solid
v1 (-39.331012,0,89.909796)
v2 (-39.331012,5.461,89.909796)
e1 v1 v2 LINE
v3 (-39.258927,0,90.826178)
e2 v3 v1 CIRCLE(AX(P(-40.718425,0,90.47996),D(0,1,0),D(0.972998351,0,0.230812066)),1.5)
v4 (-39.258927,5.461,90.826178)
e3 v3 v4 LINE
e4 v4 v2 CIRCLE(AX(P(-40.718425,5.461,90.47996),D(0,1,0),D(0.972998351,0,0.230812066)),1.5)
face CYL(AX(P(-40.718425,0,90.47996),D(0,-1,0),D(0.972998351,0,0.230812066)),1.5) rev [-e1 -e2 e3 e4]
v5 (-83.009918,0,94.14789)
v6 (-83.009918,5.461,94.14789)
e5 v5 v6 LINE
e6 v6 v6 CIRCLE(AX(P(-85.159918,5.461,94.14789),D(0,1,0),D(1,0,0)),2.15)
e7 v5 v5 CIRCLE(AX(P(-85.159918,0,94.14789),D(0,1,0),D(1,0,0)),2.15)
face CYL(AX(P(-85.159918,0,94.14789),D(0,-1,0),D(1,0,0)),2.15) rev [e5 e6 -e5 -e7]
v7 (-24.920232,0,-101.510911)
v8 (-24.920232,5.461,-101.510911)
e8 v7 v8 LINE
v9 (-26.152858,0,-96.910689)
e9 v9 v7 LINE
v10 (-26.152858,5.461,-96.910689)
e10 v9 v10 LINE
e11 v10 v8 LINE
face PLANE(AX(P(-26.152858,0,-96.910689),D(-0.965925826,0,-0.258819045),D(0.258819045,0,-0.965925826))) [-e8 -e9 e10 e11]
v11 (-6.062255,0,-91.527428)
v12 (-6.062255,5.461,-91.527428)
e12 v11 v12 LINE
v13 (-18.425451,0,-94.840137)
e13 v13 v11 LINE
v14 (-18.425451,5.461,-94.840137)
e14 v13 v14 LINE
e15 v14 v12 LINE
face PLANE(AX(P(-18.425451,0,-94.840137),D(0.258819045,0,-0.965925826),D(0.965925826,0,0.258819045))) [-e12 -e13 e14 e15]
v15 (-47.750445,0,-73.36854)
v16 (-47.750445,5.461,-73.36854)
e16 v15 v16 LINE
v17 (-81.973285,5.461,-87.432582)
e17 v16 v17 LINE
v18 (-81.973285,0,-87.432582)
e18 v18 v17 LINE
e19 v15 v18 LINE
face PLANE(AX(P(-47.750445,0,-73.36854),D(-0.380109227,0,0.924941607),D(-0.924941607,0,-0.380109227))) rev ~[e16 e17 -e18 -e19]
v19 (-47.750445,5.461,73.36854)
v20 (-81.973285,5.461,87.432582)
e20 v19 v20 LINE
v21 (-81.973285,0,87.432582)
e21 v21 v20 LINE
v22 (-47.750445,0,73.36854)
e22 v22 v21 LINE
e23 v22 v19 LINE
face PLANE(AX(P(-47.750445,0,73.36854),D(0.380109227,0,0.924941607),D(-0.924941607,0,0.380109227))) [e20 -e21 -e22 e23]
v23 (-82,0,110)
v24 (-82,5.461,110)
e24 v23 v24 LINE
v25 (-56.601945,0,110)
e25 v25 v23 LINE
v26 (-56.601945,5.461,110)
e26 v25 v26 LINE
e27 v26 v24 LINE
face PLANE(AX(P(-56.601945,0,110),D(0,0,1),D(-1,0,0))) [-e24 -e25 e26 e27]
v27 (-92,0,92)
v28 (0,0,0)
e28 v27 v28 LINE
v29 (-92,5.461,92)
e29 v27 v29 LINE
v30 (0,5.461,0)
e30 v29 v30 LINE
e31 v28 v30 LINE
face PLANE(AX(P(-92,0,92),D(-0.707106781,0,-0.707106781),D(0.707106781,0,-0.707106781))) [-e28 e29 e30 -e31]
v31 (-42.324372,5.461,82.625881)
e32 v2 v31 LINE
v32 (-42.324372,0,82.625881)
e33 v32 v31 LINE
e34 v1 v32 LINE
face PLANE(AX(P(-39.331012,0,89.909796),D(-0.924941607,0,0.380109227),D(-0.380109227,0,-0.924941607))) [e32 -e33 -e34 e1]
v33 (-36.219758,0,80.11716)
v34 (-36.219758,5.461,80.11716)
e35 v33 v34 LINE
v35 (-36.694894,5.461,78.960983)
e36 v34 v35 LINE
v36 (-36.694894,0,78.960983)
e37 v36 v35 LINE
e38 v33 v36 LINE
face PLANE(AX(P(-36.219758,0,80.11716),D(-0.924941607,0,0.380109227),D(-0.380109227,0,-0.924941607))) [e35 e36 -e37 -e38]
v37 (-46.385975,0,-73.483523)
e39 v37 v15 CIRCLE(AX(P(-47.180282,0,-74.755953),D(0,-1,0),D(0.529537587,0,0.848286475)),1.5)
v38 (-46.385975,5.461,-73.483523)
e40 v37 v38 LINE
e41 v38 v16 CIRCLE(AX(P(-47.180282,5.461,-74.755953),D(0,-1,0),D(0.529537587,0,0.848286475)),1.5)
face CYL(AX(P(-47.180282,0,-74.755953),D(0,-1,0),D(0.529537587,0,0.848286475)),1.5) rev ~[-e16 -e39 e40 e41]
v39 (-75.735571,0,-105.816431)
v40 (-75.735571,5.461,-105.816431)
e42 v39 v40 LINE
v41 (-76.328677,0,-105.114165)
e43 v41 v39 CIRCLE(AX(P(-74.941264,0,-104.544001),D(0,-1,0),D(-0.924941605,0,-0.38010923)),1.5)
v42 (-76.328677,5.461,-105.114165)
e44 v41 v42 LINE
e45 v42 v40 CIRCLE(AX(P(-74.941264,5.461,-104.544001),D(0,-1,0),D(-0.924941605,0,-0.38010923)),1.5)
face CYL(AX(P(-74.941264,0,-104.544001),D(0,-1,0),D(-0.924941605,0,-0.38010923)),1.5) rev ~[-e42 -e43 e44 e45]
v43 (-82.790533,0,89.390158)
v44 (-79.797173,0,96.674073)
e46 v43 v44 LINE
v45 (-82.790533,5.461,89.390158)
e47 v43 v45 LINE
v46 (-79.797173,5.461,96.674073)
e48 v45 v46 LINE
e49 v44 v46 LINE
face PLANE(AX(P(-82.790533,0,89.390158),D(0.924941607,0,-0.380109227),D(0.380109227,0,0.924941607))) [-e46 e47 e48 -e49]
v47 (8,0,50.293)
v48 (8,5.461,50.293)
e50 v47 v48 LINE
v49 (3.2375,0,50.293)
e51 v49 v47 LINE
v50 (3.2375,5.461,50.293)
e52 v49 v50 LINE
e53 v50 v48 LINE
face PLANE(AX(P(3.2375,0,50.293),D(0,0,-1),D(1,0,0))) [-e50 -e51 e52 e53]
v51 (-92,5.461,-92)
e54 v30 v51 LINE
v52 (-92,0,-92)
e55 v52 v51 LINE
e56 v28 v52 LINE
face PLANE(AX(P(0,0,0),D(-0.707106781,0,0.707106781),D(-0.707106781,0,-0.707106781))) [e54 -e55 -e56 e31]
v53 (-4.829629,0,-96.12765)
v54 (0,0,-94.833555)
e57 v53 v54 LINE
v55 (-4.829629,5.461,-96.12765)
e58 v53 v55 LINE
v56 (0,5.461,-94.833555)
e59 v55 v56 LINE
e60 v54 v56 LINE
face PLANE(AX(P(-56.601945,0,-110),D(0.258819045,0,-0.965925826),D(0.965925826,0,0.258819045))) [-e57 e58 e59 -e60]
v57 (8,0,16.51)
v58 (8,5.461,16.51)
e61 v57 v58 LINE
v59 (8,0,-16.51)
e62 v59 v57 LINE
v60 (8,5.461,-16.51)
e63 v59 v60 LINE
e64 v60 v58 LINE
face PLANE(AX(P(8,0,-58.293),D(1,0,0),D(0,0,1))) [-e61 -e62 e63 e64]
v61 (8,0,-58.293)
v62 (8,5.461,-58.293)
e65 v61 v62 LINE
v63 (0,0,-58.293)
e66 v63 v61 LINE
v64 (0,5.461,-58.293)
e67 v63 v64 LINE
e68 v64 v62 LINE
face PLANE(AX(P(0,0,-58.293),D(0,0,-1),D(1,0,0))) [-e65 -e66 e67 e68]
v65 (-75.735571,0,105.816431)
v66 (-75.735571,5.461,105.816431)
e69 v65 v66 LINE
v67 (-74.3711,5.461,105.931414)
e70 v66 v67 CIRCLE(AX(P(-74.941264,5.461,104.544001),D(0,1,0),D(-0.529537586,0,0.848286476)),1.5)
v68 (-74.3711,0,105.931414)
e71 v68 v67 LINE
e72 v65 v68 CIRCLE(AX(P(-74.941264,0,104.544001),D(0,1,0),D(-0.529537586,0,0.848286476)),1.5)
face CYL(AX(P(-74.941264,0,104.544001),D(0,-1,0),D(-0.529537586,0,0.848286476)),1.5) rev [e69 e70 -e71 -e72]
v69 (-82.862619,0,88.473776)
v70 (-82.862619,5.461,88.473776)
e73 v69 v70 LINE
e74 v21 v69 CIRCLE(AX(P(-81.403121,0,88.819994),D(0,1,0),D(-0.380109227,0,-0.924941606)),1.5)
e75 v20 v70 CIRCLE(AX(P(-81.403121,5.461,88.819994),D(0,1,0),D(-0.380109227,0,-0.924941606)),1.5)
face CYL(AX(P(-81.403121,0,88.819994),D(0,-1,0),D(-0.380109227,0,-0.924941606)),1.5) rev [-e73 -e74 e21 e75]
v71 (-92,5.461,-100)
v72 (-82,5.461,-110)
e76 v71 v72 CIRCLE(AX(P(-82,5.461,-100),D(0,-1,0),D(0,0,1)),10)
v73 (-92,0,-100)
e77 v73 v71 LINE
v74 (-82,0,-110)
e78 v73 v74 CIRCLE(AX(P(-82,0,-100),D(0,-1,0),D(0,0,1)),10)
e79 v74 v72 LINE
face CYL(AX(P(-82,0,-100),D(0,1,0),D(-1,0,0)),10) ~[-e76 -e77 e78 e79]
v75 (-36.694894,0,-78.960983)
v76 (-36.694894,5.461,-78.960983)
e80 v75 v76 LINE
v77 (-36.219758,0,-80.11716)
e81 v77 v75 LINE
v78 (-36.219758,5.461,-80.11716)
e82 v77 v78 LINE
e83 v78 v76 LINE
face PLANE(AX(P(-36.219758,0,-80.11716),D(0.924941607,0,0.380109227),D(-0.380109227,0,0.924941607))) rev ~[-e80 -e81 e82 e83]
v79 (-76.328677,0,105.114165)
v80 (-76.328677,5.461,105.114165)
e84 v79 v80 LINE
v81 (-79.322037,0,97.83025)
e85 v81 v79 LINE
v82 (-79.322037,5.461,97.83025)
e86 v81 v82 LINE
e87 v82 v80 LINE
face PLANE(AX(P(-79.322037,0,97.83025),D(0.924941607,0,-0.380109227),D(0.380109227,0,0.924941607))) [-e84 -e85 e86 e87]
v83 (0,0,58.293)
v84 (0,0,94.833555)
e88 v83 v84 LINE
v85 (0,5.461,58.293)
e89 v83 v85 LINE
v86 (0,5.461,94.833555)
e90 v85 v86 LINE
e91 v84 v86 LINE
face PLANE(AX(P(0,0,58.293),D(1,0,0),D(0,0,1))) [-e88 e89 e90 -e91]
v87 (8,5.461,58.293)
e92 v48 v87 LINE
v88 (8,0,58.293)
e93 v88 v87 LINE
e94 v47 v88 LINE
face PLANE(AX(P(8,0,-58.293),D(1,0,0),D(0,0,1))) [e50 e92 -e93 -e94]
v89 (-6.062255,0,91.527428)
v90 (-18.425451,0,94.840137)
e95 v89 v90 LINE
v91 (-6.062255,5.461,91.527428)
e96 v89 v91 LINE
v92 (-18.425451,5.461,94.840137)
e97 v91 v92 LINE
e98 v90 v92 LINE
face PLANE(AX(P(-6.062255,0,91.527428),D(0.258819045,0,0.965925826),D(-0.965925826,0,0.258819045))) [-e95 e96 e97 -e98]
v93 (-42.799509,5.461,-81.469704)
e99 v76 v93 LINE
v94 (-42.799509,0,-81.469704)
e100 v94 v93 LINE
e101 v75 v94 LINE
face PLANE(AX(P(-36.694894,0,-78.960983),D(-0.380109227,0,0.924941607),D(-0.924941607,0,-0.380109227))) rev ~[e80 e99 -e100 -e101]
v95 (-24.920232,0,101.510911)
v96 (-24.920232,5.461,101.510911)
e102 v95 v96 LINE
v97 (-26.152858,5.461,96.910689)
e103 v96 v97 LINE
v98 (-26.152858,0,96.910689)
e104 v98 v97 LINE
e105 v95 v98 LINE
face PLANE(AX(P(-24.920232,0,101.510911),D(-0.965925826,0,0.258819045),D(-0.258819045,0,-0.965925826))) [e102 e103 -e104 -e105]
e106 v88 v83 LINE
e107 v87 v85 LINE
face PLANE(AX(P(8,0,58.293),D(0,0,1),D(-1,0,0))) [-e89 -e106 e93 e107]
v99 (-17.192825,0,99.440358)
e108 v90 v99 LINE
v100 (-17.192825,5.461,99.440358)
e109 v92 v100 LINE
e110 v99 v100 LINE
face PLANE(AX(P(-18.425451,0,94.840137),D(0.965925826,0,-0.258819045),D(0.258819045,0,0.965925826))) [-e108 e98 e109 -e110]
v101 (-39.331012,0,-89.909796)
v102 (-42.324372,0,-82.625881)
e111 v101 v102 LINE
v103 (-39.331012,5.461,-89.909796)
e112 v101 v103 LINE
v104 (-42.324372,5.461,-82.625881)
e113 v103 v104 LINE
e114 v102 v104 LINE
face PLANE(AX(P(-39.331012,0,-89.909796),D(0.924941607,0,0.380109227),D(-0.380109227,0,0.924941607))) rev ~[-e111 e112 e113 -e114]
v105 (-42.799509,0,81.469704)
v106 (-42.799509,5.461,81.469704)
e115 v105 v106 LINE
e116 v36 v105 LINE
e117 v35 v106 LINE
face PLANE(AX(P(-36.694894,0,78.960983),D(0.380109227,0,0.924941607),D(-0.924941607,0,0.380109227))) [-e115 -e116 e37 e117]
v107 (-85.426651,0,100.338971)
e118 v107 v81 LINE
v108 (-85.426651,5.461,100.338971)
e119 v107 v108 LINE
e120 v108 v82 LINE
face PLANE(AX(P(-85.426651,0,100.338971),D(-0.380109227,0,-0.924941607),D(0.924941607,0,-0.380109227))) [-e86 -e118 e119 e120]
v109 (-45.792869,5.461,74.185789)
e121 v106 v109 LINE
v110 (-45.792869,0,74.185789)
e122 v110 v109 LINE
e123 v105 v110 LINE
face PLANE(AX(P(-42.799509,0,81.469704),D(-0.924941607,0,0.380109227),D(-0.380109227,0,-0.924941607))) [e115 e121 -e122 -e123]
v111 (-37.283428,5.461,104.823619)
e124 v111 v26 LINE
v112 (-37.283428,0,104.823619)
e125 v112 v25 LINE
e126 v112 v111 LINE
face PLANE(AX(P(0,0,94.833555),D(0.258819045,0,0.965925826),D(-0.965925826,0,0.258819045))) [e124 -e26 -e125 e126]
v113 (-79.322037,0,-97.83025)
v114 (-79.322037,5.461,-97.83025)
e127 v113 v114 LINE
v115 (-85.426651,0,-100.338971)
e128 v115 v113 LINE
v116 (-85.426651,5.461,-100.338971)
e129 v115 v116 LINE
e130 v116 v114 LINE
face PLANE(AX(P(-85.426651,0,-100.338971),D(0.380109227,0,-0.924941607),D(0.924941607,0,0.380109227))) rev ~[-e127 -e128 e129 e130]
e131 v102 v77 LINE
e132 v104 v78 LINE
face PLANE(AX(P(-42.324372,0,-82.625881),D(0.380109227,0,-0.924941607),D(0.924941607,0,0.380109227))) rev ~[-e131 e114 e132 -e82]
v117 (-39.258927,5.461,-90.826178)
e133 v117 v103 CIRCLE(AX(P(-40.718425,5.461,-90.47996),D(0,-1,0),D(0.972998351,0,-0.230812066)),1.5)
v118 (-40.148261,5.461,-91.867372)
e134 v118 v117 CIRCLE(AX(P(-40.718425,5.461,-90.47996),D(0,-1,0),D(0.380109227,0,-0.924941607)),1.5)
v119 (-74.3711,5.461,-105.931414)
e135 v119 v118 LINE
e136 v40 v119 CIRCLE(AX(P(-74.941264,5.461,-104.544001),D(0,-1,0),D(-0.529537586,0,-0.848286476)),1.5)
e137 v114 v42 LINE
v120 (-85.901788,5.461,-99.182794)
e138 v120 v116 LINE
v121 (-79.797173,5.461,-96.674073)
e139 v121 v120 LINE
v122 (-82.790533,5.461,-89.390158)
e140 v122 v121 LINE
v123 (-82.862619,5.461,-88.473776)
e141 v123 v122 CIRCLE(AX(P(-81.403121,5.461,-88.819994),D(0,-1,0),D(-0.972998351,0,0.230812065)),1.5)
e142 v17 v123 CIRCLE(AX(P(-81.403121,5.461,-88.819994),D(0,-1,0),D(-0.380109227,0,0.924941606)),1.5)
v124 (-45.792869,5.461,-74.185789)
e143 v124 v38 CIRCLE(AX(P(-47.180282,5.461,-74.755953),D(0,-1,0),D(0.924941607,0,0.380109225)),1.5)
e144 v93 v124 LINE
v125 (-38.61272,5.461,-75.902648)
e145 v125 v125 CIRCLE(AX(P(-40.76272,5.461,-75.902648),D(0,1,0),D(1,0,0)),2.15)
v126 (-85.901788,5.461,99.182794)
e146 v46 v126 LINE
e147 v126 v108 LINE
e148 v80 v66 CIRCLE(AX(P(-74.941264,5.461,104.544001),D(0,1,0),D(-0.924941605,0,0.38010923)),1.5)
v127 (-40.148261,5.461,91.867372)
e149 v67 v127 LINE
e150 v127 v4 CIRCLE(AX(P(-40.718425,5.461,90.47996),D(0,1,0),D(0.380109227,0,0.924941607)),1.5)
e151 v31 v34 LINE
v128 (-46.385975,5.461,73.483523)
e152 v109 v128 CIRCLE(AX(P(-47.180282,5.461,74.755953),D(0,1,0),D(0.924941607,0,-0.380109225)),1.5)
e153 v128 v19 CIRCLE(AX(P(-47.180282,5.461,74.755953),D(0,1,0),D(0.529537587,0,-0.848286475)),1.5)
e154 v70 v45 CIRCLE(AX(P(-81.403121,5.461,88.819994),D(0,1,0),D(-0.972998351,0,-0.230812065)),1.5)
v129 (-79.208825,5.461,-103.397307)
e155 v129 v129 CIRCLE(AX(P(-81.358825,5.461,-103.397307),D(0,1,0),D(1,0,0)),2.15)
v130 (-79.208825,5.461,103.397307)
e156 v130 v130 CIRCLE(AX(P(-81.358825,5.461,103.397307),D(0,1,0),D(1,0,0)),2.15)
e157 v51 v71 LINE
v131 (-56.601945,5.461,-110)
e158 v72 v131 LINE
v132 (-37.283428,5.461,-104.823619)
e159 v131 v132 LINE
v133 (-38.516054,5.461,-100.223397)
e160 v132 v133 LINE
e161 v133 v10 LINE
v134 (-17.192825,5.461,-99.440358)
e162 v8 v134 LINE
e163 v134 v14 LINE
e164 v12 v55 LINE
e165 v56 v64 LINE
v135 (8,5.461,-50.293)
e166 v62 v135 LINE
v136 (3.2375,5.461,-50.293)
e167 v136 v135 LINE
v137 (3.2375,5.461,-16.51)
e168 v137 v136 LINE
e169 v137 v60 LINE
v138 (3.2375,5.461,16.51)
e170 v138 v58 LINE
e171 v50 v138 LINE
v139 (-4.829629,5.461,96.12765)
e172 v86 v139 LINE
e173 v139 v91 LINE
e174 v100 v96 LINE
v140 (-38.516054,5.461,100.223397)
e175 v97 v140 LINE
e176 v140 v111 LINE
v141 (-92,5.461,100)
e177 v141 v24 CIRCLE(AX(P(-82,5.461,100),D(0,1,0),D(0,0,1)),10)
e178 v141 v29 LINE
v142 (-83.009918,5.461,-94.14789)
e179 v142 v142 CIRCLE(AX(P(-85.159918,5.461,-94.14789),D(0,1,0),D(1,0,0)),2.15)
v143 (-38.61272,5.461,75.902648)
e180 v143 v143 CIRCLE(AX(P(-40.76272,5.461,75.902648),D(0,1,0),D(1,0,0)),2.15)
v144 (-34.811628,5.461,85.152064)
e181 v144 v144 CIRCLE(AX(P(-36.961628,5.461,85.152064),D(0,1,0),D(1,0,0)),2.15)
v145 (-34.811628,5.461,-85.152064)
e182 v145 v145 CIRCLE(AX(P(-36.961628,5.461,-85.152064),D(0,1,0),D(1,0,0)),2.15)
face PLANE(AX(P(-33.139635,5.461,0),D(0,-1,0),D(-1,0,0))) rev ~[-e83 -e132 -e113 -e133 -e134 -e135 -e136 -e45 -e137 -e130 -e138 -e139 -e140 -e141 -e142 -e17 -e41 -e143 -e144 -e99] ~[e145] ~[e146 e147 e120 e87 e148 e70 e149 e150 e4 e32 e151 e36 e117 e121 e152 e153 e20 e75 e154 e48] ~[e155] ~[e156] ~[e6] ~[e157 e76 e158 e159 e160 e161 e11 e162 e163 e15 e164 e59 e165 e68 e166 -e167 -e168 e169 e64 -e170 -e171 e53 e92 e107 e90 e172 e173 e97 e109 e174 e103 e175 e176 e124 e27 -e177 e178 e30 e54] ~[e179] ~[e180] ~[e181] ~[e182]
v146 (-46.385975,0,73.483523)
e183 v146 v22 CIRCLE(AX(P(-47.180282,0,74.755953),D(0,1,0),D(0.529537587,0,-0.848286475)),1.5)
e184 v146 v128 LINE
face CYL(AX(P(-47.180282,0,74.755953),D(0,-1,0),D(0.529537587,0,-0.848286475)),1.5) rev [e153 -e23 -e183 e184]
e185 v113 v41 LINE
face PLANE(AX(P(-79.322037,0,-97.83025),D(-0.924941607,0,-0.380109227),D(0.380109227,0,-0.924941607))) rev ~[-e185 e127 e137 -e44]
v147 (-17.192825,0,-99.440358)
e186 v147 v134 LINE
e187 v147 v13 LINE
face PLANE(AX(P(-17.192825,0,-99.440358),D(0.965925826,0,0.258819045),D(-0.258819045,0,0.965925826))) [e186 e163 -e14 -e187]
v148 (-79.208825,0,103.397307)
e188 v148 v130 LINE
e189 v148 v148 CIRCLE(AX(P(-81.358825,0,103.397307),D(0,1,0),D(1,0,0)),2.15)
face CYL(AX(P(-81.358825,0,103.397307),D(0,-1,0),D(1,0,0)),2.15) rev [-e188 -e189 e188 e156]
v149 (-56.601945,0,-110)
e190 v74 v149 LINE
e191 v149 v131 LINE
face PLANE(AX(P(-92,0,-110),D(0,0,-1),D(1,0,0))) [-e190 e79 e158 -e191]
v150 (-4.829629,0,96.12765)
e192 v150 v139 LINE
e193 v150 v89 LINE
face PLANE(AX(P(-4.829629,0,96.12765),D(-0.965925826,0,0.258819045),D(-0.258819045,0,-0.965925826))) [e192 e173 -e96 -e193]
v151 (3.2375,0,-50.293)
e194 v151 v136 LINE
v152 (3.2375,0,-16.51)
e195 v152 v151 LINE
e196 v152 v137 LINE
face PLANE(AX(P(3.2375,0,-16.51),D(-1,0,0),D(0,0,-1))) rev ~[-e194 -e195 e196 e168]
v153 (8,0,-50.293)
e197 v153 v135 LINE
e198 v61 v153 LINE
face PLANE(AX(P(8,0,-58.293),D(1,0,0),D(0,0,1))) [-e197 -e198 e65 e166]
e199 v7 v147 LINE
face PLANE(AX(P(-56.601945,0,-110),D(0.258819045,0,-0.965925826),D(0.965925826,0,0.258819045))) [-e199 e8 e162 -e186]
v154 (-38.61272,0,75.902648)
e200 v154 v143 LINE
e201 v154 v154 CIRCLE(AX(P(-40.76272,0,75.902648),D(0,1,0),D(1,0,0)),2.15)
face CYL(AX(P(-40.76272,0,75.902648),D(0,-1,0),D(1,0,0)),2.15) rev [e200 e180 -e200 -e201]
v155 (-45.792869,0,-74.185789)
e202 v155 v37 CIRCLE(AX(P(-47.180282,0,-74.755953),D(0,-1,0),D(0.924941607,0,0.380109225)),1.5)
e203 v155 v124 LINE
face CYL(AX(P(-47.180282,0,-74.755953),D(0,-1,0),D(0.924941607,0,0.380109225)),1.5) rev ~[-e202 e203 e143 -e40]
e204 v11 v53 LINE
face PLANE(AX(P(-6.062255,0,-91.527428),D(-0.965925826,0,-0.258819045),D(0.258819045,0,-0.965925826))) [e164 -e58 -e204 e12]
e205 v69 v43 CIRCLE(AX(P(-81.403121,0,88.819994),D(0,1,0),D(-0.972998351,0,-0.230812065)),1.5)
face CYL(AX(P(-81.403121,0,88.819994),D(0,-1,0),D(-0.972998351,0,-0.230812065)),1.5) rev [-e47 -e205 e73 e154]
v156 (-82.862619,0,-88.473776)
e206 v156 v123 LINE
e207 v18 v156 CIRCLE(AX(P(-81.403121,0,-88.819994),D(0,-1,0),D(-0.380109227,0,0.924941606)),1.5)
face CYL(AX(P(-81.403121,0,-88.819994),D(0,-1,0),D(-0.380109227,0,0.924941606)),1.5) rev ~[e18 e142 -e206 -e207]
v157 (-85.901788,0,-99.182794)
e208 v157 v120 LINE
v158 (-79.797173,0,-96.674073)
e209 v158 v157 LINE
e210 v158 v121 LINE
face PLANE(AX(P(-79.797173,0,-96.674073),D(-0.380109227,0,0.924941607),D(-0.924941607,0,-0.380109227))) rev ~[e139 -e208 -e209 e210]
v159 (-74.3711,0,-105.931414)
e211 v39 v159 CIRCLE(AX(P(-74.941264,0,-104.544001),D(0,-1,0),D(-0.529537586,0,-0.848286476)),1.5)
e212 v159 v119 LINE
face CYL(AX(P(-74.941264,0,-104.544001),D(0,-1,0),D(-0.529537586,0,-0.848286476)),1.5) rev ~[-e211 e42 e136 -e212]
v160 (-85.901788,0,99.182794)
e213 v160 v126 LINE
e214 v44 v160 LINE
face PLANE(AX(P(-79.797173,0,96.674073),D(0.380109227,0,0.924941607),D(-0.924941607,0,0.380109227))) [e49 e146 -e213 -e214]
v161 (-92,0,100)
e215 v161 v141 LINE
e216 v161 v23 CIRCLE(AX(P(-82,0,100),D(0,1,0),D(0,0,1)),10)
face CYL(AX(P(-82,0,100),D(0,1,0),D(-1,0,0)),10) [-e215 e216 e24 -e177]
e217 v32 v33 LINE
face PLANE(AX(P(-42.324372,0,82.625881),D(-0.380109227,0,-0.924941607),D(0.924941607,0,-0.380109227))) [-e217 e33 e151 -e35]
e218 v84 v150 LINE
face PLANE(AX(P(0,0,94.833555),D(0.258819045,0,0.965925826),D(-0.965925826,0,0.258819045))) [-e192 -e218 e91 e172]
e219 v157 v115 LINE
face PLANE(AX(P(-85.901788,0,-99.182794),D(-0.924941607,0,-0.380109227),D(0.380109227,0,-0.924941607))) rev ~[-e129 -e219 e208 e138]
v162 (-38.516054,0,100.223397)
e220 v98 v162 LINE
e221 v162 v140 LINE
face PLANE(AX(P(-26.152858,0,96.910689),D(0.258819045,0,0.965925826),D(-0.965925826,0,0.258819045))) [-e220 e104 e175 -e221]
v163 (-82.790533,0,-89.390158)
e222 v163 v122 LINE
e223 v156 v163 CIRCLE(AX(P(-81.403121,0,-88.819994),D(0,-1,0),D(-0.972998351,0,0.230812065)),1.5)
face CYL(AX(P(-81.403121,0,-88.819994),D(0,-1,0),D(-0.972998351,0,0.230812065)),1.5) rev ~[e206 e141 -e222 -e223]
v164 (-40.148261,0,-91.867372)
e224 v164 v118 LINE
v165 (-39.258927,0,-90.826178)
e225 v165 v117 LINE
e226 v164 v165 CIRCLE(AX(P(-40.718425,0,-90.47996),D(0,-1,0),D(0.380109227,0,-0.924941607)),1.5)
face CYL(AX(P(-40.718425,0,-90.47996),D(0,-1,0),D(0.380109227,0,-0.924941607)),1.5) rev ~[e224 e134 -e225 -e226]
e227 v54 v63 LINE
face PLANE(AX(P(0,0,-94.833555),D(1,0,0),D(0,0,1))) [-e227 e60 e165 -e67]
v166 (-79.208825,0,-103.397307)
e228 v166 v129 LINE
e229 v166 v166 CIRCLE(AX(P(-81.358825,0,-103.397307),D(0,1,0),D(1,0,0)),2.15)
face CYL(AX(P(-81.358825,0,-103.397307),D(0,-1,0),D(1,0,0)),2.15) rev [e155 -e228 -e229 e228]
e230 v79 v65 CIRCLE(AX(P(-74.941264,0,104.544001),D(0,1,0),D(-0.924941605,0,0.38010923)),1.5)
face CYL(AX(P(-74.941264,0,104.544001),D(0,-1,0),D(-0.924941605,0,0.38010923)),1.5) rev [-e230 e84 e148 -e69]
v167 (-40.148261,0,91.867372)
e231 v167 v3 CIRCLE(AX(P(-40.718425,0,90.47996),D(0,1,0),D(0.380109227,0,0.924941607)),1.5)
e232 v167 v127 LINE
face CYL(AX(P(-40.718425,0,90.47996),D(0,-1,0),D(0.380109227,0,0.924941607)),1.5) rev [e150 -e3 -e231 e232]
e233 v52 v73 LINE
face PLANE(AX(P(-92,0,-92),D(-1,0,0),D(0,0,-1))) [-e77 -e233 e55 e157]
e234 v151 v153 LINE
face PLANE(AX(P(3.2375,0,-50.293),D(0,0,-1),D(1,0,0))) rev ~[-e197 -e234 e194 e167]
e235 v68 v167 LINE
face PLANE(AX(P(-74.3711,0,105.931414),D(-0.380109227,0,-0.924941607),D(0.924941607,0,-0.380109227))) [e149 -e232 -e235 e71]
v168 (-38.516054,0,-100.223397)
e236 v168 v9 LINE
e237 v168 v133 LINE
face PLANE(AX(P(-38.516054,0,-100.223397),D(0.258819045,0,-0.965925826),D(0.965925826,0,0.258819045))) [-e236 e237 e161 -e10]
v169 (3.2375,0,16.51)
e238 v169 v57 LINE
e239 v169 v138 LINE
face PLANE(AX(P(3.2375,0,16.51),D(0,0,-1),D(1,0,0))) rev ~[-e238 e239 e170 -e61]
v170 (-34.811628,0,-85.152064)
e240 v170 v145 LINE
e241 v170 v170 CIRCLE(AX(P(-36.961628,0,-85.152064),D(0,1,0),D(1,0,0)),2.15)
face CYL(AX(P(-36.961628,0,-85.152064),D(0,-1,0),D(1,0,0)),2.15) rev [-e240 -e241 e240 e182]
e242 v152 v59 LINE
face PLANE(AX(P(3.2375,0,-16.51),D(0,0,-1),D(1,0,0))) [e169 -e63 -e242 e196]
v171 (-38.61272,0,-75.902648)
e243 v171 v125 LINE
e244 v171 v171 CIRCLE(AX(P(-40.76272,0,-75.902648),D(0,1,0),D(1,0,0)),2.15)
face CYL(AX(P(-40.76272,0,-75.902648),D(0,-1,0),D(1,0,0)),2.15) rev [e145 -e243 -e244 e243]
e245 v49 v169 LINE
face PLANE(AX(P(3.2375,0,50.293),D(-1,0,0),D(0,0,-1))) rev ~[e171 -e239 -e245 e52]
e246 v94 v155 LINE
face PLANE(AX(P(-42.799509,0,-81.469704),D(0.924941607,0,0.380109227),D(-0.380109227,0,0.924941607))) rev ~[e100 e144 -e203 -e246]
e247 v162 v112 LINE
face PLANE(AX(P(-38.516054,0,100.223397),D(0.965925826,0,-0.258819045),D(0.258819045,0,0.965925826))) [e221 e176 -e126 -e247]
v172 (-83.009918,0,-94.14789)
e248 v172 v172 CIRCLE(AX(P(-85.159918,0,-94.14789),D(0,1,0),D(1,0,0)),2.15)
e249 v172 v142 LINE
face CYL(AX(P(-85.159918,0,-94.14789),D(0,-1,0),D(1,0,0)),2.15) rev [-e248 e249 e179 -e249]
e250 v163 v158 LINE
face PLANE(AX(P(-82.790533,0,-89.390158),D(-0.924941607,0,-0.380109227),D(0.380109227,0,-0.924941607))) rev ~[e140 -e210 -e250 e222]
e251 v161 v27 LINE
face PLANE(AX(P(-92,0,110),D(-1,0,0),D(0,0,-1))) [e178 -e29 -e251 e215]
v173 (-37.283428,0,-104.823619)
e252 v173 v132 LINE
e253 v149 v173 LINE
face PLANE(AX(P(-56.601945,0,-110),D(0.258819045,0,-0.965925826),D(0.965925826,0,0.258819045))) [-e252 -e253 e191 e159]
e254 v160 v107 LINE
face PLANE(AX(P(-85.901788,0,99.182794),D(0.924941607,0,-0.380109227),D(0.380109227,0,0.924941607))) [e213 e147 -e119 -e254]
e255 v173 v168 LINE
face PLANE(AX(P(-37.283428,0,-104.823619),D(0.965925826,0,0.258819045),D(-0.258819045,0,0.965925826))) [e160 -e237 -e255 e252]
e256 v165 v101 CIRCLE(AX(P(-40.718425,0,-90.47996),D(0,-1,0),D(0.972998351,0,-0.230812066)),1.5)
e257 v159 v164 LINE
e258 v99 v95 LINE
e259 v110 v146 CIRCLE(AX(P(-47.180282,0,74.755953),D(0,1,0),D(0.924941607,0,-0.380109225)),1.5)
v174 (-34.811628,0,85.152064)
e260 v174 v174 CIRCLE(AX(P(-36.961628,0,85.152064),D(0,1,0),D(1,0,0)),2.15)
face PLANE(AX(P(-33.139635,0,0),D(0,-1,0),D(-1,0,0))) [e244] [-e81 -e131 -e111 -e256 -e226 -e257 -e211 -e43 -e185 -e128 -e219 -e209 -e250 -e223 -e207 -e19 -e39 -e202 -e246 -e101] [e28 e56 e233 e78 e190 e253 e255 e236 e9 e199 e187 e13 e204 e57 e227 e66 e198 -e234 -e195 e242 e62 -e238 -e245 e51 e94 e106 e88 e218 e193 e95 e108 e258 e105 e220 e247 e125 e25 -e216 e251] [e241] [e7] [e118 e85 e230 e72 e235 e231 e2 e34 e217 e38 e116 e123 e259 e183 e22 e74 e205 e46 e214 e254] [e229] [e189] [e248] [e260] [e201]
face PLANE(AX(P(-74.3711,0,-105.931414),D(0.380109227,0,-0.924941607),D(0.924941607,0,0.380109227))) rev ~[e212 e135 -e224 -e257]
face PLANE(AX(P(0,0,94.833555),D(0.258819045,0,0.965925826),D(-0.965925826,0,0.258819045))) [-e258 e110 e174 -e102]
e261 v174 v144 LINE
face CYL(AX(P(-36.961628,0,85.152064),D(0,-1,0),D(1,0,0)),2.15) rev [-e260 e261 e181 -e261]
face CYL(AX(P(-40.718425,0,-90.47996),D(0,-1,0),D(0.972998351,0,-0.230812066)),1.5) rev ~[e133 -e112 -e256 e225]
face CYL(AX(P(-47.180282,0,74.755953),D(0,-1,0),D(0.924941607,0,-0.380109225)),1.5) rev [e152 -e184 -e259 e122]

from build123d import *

# Parameters (mm, degrees)
SKETCH1_R           = 2.15
BOSS_EXTRUDE1_DEPTH = 5.461
FILLET1_R           = 10
SKETCH2_W           = 4.7625
SKETCH2_H           = 33.783
CUT_EXTRUDE1_DEPTH  = 10


with BuildPart() as part:
    # Sketch1 → Boss-Extrude1 (new body)
    with BuildSketch(Plane(origin=(0, 0, 0), x_dir=(1, 0, 0), z_dir=(0, 1, 0))):
        Polygon((0, 0), (-92, 92), (-92, 110), (-56.601944845, 110), (0, 94.833554589), (0, 58.293), (8, 58.293), (8, -58.293), (0, -58.293), (0, -94.833554589), (-56.601944845, -110), (-92, -110), (-92, -92), align=None)
        with Locations((-85.159917522, 94.147890435)):
            Circle(SKETCH1_R, mode=Mode.SUBTRACT)
        with Locations((-81.358825255, 103.397306502)):
            Circle(SKETCH1_R, mode=Mode.SUBTRACT)
        with Locations((-36.961628134, 85.152063619)):
            Circle(SKETCH1_R, mode=Mode.SUBTRACT)
        with Locations((-40.762720402, 75.902647552)):
            Circle(SKETCH1_R, mode=Mode.SUBTRACT)
        with Locations((-40.762720402, -75.902647552)):
            Circle(SKETCH1_R, mode=Mode.SUBTRACT)
        with Locations((-36.961628134, -85.152063619)):
            Circle(SKETCH1_R, mode=Mode.SUBTRACT)
        with Locations((-81.358825255, -103.397306502)):
            Circle(SKETCH1_R, mode=Mode.SUBTRACT)
        with Locations((-85.159917522, -94.147890435)):
            Circle(SKETCH1_R, mode=Mode.SUBTRACT)
        with BuildLine():
            Line((-79.322036695, 97.830250065), (-76.328676535, 105.114165218))
            ThreePointArc((-76.328676535, 105.114165218), (-76.087243425, 105.511850251), (-75.735570504, 105.816431091))
            ThreePointArc((-75.735570504, 105.816431091), (-75.067221358, 106.038703614), (-74.371100284, 105.931413788))
            Line((-74.371100284, 105.931413788), (-40.148260837, 91.867372399))
            ThreePointArc((-40.148260837, 91.867372399), (-39.577853455, 91.454176231), (-39.258927152, 90.826178087))
            ThreePointArc((-39.258927152, 90.826178087), (-39.223044121, 90.362329254), (-39.331012268, 89.909796149))
            Line((-39.331012268, 89.909796149), (-42.324372428, 82.625880996))
            Line((-42.324372428, 82.625880996), (-36.219757824, 80.1171601))
            Line((-36.219757824, 80.1171601), (-36.694894357, 78.960983092))
            Line((-36.694894357, 78.960983092), (-42.799508961, 81.469703988))
            Line((-42.799508961, 81.469703988), (-45.792869122, 74.185788836))
            ThreePointArc((-45.792869122, 74.185788836), (-46.034302231, 73.788103802), (-46.385975153, 73.483522962))
            ThreePointArc((-46.385975153, 73.483522962), (-47.054324299, 73.261250439), (-47.750445372, 73.368540266))
            Line((-47.750445372, 73.368540266), (-81.973284819, 87.432581654))
            ThreePointArc((-81.973284819, 87.432581654), (-82.543692202, 87.845777823), (-82.862618505, 88.473775966))
            ThreePointArc((-82.862618505, 88.473775966), (-82.898501536, 88.937624799), (-82.790533389, 89.390157905))
            Line((-82.790533389, 89.390157905), (-79.797173228, 96.674073057))
            Line((-79.797173228, 96.674073057), (-85.901787832, 99.182793954))
            Line((-85.901787832, 99.182793954), (-85.426651299, 100.338970962))
            Line((-85.426651299, 100.338970962), (-79.322036695, 97.830250065))
        make_face(mode=Mode.SUBTRACT)
        with BuildLine():
            Line((-47.750445372, -73.368540266), (-81.973284819, -87.432581654))
            ThreePointArc((-81.973284819, -87.432581654), (-82.543692202, -87.845777823), (-82.862618505, -88.473775966))
            ThreePointArc((-82.862618505, -88.473775966), (-82.898501536, -88.937624799), (-82.790533389, -89.390157905))
            Line((-82.790533389, -89.390157905), (-79.797173228, -96.674073057))
            Line((-79.797173228, -96.674073057), (-85.901787832, -99.182793954))
            Line((-85.901787832, -99.182793954), (-85.426651299, -100.338970962))
            Line((-85.426651299, -100.338970962), (-79.322036695, -97.830250065))
            Line((-79.322036695, -97.830250065), (-76.328676535, -105.114165218))
            ThreePointArc((-76.328676535, -105.114165218), (-76.087243425, -105.511850251), (-75.735570504, -105.816431091))
            ThreePointArc((-75.735570504, -105.816431091), (-75.067221358, -106.038703614), (-74.371100284, -105.931413788))
            Line((-74.371100284, -105.931413788), (-40.148260837, -91.867372399))
            ThreePointArc((-40.148260837, -91.867372399), (-39.577853455, -91.454176231), (-39.258927152, -90.826178087))
            ThreePointArc((-39.258927152, -90.826178087), (-39.223044121, -90.362329254), (-39.331012268, -89.909796149))
            Line((-39.331012268, -89.909796149), (-42.324372428, -82.625880996))
            Line((-42.324372428, -82.625880996), (-36.219757824, -80.1171601))
            Line((-36.219757824, -80.1171601), (-36.694894357, -78.960983092))
            Line((-36.694894357, -78.960983092), (-42.799508961, -81.469703988))
            Line((-42.799508961, -81.469703988), (-45.792869122, -74.185788836))
            ThreePointArc((-45.792869122, -74.185788836), (-46.034302231, -73.788103802), (-46.385975153, -73.483522962))
            ThreePointArc((-46.385975153, -73.483522962), (-47.054324299, -73.261250439), (-47.750445372, -73.368540266))
        make_face(mode=Mode.SUBTRACT)
    extrude(amount=BOSS_EXTRUDE1_DEPTH)

    # Fillet1
    fillet1_edges = [part.edges().sort_by_distance(p)[0] for p in [
        (-92, 2.7305, -110),
        (-92, 2.7305, 110),
    ]]
    fillet(fillet1_edges, radius=FILLET1_R)

    # Sketch2 → Cut-Extrude1 (cut)
    with BuildSketch(Plane(origin=(0, 0, 0), x_dir=(1, 0, 0), z_dir=(0, 1, 0))):
        Polygon((-4.829629131, 96.127649814), (-17.19282542, 99.440358276), (-18.425451123, 94.840136528), (-6.062254834, 91.527428067), align=None)
        Polygon((-24.920232031, 101.510910637), (-37.283428319, 104.823619098), (-38.516054022, 100.22339735), (-26.152857733, 96.910688889), align=None)
        Polygon((-26.152857733, -96.910688889), (-38.516054022, -100.22339735), (-37.283428319, -104.823619098), (-24.920232031, -101.510910637), align=None)
        Polygon((-6.062254834, -91.527428067), (-18.425451123, -94.840136528), (-17.19282542, -99.440358276), (-4.829629131, -96.127649814), align=None)
        with Locations((5.61875, 33.4015)):
            Rectangle(SKETCH2_W, SKETCH2_H)
        with Locations((5.61875, -33.4015)):
            Rectangle(SKETCH2_W, SKETCH2_H)
    extrude(amount=CUT_EXTRUDE1_DEPTH, mode=Mode.SUBTRACT)


solid = part.part
